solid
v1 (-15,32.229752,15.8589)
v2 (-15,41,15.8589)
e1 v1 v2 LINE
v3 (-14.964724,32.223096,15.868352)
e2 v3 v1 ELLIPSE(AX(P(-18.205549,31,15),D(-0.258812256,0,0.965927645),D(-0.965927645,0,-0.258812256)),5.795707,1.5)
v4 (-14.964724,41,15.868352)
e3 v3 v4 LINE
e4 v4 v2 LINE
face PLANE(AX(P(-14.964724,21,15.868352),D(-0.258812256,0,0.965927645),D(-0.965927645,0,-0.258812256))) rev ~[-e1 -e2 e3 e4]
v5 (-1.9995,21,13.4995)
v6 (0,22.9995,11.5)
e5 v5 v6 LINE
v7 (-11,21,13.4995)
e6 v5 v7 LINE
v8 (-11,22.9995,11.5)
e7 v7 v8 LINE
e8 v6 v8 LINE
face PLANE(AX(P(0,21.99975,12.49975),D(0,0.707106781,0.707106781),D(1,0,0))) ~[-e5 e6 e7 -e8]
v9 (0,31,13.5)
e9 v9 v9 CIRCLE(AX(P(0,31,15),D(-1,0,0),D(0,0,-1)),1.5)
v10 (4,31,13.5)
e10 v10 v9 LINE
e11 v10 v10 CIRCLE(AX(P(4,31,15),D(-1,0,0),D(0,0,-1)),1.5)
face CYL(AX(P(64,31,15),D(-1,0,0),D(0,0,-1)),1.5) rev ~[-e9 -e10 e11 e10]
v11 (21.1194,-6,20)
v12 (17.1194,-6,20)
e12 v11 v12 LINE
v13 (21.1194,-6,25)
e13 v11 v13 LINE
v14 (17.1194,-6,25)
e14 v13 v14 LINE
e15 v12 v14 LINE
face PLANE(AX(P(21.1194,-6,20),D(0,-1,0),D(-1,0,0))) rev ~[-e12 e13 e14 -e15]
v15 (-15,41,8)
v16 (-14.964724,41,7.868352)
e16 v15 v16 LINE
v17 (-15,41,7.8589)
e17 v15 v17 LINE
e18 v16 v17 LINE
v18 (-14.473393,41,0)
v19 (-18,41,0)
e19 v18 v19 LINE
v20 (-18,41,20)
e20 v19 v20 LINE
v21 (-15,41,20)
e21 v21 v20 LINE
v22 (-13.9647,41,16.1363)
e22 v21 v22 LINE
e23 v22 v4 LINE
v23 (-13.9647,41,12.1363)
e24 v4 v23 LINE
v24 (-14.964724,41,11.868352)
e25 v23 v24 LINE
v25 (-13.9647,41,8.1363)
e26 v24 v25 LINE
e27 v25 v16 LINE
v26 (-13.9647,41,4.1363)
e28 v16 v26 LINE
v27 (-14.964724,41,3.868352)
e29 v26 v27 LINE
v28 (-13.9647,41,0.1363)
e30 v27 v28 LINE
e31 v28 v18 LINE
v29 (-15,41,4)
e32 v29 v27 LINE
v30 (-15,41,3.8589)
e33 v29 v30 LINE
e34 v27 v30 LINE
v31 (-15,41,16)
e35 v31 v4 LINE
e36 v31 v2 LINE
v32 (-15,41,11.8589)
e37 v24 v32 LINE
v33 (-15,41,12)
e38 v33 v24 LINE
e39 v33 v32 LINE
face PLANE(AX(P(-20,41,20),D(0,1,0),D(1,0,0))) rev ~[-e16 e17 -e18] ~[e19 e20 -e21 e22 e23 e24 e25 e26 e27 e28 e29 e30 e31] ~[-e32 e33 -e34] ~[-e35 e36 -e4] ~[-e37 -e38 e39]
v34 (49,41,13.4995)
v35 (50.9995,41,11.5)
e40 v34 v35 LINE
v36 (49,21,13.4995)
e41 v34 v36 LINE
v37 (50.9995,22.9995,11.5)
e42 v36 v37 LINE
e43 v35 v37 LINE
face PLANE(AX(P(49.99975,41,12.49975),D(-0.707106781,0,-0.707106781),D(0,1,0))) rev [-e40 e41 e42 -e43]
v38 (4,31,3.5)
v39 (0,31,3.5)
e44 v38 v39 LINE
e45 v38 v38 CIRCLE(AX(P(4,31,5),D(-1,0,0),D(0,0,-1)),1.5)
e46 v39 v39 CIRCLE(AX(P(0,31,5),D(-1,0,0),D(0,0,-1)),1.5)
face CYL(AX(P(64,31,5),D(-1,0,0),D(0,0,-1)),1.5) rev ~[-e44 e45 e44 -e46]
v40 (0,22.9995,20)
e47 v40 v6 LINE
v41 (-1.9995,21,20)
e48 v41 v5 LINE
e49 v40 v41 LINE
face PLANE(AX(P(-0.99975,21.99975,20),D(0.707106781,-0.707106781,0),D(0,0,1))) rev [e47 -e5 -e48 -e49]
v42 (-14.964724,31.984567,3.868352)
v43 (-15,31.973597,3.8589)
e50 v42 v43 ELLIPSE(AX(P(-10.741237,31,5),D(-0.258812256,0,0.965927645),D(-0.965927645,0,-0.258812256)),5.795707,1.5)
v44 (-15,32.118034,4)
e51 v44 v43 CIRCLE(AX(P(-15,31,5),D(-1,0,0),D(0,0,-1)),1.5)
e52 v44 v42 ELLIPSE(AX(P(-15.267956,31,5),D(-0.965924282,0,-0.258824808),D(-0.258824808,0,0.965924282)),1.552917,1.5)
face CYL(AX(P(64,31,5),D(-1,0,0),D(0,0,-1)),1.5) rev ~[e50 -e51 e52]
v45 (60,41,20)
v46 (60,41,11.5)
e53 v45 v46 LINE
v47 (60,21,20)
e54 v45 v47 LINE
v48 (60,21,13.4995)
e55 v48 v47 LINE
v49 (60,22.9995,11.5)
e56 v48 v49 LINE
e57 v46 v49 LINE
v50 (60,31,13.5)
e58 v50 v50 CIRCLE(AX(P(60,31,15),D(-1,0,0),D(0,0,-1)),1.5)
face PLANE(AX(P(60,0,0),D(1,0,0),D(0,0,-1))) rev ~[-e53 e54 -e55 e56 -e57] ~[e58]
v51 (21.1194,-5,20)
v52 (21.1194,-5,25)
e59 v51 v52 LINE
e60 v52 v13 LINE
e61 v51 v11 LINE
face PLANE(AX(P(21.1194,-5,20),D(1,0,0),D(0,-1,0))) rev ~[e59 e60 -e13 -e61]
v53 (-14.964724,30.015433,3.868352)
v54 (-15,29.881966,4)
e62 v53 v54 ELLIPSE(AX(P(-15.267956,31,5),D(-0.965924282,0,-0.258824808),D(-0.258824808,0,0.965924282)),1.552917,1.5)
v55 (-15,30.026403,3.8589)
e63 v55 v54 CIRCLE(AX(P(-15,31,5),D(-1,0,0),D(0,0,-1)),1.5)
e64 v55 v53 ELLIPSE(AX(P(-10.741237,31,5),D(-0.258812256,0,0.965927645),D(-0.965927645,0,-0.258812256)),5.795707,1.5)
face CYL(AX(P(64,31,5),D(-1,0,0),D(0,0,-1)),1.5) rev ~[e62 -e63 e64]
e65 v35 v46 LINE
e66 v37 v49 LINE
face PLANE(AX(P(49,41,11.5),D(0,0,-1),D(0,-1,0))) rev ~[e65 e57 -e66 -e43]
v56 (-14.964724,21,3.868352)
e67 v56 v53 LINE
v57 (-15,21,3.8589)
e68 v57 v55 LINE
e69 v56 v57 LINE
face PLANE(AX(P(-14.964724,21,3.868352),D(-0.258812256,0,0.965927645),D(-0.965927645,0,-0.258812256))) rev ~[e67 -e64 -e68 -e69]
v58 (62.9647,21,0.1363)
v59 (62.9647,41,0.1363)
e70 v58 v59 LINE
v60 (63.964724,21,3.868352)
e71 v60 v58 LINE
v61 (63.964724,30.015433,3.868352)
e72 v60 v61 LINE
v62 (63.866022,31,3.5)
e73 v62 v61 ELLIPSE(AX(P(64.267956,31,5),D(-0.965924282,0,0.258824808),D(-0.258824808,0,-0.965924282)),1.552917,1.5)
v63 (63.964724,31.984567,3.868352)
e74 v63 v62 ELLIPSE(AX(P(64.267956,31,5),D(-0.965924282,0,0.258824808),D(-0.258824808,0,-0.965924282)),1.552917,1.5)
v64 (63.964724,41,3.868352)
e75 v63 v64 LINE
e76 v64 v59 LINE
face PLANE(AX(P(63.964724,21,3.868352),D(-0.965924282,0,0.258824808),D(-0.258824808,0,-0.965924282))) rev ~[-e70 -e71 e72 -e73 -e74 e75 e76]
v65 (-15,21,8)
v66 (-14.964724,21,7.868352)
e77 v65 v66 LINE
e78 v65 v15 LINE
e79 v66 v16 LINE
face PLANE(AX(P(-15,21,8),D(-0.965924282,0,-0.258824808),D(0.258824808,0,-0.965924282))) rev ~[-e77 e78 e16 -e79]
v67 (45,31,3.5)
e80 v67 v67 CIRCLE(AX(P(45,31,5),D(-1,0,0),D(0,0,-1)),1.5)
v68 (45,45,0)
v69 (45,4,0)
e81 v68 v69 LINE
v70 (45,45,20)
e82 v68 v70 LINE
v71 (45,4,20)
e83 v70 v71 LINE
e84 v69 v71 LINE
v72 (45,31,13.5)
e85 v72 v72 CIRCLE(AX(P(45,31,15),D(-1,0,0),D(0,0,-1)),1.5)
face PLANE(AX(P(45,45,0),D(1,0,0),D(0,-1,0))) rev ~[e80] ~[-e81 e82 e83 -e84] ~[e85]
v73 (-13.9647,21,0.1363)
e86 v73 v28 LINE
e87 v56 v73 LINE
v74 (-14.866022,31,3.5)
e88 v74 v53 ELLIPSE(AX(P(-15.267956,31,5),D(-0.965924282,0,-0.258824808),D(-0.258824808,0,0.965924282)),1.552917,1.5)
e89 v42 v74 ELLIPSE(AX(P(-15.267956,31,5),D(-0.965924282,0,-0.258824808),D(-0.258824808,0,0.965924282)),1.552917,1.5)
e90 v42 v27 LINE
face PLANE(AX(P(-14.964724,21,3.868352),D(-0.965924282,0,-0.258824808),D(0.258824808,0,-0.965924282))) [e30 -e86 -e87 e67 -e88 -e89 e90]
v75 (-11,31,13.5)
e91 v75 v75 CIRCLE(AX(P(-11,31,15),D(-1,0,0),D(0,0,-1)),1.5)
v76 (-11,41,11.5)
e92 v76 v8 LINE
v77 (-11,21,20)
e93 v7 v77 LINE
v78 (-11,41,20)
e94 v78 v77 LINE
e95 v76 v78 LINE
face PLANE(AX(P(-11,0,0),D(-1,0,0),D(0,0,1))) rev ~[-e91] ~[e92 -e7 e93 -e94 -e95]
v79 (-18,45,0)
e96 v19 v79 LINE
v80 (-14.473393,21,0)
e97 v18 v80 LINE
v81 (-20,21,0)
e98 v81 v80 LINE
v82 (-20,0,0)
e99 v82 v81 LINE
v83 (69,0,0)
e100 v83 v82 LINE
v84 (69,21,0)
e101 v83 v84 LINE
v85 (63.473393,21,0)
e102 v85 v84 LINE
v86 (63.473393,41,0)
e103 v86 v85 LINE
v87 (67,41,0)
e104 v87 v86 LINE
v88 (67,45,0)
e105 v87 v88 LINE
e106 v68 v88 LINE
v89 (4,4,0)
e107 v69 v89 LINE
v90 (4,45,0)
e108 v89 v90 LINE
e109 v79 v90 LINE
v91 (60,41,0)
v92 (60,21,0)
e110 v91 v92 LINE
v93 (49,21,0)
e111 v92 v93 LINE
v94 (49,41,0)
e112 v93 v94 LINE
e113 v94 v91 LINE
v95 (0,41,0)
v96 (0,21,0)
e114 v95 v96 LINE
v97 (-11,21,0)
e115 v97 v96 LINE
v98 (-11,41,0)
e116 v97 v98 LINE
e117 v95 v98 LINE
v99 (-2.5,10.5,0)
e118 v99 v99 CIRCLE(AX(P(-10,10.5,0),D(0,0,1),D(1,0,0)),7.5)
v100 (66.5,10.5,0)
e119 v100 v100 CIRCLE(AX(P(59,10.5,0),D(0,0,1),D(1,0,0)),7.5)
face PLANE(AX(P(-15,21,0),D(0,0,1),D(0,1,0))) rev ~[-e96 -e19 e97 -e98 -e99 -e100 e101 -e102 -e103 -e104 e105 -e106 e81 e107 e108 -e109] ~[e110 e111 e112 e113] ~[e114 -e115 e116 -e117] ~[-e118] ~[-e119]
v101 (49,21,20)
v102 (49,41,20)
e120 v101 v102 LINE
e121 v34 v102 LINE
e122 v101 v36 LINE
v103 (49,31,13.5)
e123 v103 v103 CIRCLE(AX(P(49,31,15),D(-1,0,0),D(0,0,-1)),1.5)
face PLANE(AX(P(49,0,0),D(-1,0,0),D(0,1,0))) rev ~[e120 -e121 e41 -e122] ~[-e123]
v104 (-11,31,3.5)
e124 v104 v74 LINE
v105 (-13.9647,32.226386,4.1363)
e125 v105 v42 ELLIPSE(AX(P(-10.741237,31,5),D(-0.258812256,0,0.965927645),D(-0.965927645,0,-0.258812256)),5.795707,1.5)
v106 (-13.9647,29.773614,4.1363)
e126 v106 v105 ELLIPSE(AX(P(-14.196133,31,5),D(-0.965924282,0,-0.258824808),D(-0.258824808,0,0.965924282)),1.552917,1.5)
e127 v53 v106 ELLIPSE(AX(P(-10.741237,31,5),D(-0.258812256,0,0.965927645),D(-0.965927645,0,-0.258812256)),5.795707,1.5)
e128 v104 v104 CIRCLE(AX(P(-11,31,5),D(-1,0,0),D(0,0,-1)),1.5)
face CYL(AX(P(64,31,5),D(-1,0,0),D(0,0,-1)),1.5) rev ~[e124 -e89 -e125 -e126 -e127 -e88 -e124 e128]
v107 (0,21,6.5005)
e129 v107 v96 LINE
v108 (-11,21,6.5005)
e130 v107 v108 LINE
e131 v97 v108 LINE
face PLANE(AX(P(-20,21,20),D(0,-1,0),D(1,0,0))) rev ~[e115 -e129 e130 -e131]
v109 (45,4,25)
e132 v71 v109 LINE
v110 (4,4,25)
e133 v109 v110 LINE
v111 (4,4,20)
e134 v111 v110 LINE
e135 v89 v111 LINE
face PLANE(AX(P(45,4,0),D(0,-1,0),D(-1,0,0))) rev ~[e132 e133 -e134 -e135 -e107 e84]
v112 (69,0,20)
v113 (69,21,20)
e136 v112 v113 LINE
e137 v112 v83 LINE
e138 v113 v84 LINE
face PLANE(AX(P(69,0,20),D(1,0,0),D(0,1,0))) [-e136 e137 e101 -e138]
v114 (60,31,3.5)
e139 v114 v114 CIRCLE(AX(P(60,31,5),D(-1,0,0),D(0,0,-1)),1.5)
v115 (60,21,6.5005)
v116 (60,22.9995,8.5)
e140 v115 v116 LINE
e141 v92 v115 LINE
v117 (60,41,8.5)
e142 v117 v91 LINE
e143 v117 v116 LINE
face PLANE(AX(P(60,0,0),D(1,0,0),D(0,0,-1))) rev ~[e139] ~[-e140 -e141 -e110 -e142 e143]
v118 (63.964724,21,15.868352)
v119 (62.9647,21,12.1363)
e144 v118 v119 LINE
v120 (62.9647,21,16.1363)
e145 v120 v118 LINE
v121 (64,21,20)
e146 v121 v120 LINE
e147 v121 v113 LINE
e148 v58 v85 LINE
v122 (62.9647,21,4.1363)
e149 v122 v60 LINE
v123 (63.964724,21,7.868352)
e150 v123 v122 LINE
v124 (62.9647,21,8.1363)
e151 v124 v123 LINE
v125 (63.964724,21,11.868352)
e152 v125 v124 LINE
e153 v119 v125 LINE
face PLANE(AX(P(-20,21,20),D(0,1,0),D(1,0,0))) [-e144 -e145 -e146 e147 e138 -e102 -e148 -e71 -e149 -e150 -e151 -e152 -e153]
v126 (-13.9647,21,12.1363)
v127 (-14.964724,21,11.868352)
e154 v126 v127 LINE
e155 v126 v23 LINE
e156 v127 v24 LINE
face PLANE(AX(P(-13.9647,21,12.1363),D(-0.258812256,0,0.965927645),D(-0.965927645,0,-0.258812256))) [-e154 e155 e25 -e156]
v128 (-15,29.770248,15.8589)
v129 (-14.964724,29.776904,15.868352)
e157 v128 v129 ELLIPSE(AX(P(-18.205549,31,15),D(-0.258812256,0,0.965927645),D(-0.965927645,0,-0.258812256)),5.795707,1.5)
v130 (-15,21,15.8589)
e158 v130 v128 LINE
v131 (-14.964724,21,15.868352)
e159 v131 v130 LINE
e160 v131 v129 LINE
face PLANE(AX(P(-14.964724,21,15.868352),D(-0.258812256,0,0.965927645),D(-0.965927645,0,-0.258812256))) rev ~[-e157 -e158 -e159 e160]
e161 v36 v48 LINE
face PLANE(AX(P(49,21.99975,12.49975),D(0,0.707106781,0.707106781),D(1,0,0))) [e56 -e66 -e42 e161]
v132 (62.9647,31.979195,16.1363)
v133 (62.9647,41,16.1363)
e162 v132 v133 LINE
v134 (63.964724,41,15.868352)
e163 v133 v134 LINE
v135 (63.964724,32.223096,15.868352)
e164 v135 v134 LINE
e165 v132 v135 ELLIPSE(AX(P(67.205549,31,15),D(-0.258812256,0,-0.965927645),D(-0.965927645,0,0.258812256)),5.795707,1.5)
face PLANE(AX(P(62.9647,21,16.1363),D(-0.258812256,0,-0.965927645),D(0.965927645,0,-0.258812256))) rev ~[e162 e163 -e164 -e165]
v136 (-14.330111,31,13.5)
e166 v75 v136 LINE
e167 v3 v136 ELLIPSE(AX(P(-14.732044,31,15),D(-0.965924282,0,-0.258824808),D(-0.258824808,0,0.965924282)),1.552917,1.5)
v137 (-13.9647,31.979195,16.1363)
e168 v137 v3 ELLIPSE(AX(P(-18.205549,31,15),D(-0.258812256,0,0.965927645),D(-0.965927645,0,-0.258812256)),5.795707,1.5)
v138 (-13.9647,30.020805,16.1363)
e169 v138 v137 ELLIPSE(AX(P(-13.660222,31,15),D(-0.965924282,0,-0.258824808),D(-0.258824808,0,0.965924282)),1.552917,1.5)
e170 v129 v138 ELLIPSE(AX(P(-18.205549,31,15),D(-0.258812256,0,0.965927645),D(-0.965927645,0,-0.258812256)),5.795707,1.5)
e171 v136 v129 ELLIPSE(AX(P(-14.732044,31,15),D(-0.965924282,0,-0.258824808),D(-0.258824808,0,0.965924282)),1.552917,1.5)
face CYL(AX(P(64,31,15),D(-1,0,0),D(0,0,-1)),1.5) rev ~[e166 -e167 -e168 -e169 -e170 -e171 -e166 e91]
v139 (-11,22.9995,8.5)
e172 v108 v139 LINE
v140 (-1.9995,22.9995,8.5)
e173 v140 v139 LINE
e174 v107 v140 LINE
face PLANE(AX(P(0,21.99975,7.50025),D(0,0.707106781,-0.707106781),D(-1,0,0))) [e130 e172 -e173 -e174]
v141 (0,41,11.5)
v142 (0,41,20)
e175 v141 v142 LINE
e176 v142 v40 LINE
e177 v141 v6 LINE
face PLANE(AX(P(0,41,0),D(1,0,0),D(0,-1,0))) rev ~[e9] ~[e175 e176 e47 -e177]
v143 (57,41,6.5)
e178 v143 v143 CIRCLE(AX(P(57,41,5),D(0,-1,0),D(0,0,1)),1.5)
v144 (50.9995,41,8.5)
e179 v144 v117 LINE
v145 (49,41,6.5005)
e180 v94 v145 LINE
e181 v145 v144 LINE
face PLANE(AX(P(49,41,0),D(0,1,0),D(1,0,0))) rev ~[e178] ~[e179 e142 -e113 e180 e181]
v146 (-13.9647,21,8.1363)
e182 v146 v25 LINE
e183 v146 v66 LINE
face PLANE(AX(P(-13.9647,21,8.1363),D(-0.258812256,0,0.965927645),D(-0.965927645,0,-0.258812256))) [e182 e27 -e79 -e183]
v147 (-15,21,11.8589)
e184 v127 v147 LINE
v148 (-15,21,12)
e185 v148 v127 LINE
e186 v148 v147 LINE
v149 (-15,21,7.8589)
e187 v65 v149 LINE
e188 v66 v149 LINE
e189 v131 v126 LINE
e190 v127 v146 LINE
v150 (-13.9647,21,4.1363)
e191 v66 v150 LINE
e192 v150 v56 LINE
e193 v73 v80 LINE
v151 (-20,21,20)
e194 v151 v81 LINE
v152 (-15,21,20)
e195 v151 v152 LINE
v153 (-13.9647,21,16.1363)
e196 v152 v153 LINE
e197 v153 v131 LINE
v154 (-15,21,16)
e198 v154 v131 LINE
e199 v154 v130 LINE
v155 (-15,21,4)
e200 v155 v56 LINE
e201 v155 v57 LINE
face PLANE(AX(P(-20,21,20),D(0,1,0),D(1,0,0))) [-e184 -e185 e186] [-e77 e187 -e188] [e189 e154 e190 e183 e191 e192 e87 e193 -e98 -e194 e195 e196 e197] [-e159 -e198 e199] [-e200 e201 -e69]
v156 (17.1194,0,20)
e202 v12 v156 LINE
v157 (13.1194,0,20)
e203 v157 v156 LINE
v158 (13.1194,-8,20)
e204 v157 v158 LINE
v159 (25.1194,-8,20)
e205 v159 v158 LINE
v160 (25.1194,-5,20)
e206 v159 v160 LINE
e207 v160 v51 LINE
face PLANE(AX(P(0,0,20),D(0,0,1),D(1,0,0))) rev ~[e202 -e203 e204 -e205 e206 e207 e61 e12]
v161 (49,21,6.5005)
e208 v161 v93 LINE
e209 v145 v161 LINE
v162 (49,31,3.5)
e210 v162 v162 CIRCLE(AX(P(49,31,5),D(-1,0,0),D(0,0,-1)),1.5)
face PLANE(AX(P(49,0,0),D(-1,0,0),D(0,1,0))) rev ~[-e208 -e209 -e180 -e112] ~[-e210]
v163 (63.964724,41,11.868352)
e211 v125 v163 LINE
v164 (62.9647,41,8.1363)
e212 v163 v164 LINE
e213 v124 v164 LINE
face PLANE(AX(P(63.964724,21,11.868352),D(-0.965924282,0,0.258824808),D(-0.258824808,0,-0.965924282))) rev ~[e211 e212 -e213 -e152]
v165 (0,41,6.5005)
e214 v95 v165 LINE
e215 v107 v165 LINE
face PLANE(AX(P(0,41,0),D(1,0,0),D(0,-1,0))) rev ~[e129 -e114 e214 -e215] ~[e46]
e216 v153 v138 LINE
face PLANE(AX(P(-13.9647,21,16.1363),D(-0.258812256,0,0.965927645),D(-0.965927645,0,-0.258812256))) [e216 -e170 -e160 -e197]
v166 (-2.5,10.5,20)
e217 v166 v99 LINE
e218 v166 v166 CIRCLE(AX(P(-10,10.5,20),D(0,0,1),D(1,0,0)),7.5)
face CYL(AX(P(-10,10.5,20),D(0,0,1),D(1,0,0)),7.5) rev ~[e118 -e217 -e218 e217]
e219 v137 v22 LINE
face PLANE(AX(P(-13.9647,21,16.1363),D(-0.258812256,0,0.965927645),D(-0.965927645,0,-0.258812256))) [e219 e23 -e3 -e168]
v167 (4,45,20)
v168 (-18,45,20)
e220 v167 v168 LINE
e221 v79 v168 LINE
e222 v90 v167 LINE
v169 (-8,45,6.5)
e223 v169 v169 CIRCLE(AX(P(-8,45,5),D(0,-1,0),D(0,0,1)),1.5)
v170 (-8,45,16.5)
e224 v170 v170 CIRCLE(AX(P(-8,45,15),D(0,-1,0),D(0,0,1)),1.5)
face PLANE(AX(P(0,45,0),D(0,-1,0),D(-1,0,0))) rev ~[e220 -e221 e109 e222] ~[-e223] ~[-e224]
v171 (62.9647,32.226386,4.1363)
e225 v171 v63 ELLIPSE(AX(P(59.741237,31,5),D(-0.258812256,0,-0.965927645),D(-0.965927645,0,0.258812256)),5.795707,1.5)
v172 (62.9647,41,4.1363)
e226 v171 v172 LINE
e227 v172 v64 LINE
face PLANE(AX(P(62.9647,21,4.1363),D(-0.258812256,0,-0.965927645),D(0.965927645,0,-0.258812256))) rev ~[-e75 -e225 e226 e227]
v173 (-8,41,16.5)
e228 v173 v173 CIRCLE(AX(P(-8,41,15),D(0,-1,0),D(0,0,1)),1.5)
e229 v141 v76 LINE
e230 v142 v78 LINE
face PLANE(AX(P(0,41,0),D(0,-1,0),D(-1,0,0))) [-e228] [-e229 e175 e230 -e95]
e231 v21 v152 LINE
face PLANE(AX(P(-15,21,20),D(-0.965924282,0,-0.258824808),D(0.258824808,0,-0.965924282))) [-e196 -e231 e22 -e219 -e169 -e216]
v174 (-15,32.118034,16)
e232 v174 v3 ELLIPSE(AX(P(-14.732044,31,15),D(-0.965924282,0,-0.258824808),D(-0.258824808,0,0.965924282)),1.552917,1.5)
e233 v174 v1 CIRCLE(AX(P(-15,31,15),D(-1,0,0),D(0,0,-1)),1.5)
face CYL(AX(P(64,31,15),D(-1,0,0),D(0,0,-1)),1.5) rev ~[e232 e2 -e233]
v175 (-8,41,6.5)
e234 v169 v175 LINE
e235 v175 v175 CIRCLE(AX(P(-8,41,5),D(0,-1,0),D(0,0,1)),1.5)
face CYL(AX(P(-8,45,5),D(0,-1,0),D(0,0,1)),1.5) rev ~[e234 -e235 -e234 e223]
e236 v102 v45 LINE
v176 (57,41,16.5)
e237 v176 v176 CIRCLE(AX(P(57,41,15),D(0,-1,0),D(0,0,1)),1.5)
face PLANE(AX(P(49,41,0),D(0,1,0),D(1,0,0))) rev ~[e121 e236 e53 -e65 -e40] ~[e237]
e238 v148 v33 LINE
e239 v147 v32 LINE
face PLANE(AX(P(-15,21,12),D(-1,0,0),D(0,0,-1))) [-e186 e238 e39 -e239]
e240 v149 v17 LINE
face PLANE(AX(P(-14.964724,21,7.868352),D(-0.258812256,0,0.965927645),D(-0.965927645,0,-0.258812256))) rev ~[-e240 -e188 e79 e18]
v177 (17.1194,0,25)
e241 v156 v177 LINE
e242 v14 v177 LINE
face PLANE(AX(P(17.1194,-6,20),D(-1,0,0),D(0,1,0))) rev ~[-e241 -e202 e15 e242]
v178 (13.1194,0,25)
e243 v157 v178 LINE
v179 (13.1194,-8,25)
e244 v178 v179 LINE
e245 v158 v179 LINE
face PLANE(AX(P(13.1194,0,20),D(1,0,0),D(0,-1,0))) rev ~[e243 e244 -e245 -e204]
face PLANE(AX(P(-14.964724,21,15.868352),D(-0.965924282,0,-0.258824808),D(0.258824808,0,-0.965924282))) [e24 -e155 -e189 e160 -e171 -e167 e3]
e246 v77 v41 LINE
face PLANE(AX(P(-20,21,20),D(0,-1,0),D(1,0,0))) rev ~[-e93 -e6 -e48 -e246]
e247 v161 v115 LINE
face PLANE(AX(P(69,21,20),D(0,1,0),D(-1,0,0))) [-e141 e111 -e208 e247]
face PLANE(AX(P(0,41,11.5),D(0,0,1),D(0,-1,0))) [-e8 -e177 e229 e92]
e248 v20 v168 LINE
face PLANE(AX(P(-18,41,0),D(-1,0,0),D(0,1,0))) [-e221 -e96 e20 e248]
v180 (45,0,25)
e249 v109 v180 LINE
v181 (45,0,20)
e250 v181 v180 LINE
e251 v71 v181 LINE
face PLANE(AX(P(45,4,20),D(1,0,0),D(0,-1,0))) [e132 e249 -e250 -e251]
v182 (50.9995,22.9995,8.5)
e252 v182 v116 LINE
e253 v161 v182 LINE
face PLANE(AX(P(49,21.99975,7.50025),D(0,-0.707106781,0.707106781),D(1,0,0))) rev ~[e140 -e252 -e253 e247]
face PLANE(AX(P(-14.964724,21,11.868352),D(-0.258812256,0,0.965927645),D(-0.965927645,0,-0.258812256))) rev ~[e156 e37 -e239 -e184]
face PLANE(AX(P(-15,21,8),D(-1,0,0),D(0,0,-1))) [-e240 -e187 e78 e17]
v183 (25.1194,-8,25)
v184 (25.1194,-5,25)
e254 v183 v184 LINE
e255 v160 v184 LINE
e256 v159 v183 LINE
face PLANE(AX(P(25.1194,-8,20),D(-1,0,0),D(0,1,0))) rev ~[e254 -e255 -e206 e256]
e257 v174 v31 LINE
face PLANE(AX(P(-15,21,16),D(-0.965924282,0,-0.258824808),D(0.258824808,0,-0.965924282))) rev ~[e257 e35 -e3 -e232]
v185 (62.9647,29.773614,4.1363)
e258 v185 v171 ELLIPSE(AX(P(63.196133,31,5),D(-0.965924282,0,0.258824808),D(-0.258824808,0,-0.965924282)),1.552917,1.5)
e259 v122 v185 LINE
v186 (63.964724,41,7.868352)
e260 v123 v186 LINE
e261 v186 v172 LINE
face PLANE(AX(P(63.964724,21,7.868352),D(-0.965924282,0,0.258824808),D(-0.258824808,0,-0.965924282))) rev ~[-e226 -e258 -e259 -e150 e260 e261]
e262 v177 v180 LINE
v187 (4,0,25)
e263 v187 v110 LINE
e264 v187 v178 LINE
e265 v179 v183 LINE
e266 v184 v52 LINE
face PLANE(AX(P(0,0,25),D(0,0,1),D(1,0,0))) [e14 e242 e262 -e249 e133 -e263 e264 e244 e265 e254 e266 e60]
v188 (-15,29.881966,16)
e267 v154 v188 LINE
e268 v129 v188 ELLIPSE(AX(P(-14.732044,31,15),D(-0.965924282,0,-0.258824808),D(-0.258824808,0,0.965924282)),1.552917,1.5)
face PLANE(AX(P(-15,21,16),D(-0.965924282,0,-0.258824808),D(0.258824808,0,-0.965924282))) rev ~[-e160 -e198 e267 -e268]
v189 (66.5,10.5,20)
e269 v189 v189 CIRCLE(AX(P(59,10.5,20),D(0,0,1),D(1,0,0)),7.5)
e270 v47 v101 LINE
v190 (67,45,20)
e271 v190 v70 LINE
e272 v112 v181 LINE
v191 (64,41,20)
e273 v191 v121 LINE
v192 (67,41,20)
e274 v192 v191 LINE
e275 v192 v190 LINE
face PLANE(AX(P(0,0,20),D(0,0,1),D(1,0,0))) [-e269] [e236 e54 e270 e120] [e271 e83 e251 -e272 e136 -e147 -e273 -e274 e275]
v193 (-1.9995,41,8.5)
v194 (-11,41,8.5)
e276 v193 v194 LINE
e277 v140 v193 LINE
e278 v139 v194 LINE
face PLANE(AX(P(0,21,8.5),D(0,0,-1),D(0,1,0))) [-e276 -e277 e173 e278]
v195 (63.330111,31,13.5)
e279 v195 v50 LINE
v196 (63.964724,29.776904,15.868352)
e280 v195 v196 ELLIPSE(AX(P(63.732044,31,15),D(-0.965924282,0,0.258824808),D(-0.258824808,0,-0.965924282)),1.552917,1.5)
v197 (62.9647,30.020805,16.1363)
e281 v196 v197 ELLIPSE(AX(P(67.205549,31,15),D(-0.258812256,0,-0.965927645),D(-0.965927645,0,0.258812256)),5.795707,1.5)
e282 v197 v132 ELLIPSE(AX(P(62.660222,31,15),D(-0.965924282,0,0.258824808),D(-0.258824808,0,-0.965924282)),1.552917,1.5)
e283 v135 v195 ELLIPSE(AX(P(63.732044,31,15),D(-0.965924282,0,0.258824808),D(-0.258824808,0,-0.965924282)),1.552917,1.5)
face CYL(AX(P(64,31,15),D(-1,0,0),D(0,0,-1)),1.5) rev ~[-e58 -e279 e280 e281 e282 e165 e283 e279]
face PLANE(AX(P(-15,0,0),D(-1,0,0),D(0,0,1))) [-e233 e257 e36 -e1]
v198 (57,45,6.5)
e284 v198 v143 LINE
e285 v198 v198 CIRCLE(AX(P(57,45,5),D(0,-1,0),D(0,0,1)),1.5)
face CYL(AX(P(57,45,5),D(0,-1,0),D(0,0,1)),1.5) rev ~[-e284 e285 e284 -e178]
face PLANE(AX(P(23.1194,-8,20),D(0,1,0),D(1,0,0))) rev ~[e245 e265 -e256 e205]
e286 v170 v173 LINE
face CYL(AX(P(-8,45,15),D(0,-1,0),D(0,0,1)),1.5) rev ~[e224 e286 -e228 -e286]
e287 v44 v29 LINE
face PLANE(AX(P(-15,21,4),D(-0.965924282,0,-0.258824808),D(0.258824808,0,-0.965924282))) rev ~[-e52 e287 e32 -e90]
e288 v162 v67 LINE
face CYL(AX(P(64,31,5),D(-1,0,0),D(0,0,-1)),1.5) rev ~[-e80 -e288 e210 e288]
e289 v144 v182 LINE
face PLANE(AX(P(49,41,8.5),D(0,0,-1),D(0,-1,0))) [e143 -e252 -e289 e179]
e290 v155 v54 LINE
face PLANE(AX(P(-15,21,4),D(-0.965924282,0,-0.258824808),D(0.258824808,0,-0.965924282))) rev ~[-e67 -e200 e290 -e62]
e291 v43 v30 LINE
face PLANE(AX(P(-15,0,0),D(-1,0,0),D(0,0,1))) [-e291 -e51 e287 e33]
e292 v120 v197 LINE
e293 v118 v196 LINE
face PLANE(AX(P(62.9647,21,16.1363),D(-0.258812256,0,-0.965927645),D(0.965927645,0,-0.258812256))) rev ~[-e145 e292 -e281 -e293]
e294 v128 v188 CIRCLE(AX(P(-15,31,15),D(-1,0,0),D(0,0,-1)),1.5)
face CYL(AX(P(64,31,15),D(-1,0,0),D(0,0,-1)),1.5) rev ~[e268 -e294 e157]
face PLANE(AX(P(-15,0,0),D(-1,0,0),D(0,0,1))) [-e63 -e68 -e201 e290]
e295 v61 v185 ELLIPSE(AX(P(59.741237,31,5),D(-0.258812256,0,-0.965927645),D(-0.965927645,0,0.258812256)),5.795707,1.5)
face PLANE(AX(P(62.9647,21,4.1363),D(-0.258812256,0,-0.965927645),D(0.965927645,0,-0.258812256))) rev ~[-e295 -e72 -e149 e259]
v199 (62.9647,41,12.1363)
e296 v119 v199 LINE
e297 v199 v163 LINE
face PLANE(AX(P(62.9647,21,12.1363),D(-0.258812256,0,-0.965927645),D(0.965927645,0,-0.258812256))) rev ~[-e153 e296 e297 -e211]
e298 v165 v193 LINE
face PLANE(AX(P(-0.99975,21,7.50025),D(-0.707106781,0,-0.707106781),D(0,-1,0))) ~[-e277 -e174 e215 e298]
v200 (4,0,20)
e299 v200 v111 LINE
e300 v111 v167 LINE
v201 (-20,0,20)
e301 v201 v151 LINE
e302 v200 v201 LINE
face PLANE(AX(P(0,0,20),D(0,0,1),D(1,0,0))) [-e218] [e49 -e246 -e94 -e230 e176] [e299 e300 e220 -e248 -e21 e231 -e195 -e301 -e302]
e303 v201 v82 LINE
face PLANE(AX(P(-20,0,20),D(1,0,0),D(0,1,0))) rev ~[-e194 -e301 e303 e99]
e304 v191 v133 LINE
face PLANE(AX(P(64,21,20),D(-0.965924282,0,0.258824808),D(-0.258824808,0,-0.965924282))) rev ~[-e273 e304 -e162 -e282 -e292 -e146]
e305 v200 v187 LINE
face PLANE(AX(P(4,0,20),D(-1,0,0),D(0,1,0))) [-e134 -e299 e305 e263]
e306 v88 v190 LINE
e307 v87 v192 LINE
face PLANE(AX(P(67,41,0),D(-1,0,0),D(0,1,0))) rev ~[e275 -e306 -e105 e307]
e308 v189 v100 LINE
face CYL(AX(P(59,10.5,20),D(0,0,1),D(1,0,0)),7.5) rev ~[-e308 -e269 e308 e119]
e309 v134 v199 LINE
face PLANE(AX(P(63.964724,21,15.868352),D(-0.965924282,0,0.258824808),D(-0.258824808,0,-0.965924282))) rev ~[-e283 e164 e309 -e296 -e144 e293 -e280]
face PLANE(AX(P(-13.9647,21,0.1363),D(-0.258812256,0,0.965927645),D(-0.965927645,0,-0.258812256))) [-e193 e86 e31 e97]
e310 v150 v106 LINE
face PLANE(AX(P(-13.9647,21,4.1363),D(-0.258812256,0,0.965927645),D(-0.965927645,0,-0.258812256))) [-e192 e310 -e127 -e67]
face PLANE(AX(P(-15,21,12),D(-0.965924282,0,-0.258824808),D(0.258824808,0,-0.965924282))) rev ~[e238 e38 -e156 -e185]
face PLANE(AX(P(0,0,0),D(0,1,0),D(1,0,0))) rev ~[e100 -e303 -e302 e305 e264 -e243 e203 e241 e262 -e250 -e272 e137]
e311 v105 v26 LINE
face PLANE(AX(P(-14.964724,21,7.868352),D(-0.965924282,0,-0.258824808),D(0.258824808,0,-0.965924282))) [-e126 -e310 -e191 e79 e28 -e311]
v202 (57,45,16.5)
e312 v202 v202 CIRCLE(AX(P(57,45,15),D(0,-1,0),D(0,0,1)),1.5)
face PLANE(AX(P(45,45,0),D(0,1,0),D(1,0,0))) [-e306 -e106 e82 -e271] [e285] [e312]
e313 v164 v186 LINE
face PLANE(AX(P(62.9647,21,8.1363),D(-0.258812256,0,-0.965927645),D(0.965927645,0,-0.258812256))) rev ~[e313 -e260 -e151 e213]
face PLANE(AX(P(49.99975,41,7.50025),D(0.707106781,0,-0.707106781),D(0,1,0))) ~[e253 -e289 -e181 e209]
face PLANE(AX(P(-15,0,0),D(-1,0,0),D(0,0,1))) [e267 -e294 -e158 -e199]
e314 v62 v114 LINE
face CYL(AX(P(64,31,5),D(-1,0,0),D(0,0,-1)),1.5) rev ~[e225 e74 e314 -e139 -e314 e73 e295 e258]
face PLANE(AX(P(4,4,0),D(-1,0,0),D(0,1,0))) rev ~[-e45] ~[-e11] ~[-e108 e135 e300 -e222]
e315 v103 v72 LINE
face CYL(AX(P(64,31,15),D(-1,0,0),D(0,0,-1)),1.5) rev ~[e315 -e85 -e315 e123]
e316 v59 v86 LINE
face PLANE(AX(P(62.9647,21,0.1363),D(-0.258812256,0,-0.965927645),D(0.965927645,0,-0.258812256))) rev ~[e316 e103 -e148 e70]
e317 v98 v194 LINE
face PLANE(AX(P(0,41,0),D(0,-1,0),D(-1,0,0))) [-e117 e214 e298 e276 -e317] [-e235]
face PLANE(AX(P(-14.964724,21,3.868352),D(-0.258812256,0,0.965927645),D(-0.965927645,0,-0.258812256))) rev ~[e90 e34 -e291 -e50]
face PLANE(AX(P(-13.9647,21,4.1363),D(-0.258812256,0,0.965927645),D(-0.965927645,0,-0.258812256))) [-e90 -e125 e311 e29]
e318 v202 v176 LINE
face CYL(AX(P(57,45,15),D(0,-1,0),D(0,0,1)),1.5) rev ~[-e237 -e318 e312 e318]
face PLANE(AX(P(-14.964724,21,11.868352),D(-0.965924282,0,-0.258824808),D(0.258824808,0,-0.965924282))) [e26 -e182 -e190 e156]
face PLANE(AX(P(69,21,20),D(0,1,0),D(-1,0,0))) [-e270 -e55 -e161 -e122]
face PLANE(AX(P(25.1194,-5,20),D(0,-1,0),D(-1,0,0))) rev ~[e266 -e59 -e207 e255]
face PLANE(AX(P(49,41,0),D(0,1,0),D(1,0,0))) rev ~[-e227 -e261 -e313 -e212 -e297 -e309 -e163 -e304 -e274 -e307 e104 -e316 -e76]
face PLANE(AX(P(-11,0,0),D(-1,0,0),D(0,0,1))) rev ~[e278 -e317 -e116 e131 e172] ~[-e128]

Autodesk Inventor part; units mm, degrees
ref_plane "YZ Plane" through (0, 0, 0) normal (1, 0, 0) x (0, 1, 0)
ref_plane "XZ Plane" through (0, 0, 0) normal (0, 1, 0) x (-1, 0, 0)
ref_plane "XY Plane" through (0, 0, 0) normal (0, 0, 1) x (1, 0, 0)
sketch "Esboço1" plane through (0, 0, 0) normal (0, 0, 1) x (1, 0, 0)
  line L0 (0, 0) -> (49, 0)
  line L1 (49, 0) -> (49, 41)
  line L2 (0, 41) -> (0, 0)
  line L3 (45, 45) -> (45, 4)
  line L4 (45, 4) -> (4, 4)
  line L5 (4, 4) -> (4, 45)
  line L6 (0, 45) -> (4, 45)
  line L7 (45, 45) -> (49, 45)
  line L8 (45, 45) -> (67, 45)
  line L9 (4, 45) -> (-18, 45)
  line L10 (-18, 45) -> (0, 45)
  line L11 (0, 41) -> (-18, 41)
  line L12 (-18, 41) -> (-18, 45)
  line L13 (67, 45) -> (49, 45)
  line L14 (49, 41) -> (67, 41)
  line L15 (67, 41) -> (67, 45)
extrude "Extrusão1" add sketch "Esboço1" along normal blind 20
sketch "Esboço2" plane through (0, 0, 20) normal (0, 0, 1) x (1, 0, 0)
  line L0 (45, 4) -> (4, 4) projected
  line L1 (0, 0) -> (49, 0) projected
  line L2 (4, 4) -> (45, 4)
  line L3 (45, 4) -> (45, 0)
  line L4 (4, 0) -> (4, 4)
  line L5 (0, 0) -> (49, 0) projected
  line L6 (13.1194, 0) -> (13.1194, -8)
  line L7 (13.1194, -8) -> (23.1194, -8)
  line L8 (23.1194, -8) -> (25.1194, -8)
  line L9 (25.1194, -8) -> (25.1194, -5)
  line L10 (25.1194, -5) -> (21.1194, -5)
  line L11 (21.1194, -5) -> (21.1194, -6)
  line L12 (21.1194, -6) -> (17.1194, -6)
  line L13 (17.1194, -6) -> (17.1194, 0)
  line L14 (45, 0) -> (17.1194, 0)
  line L15 (13.1194, 0) -> (4, 0)
  dimension "d9" = 41
  dimension "d12" = 8
  dimension "d13" = 10
  dimension "d14" = 2
  dimension "d15" = 3
  dimension "d16" = 4
  dimension "d17" = 1
  dimension "d18" = 4
extrude "Extrusão2" add sketch "Esboço2" along normal blind 5
sketch "Esboço3" plane through (49, 0, 0) normal (1, 0, 0) x (0, 0, -1)
  line L0 (0, 41) -> (-20, 41) projected
  line L1 (-8.5, 41) -> (-8.5, 21)
  line L2 (-11.5, 41) -> (-11.5, 21)
  line L3 (-11.5, 21) -> (-8.5, 21)
  point P0 (0, 0)
extrude "Extrusão3" add sketch "Esboço3" along normal blind 15
sketch "Esboço5" plane through (0, 0, 0) normal (-1, 0, 0) x (0, 0, 1)
  line L0 (11.5, 41) -> (11.5, 21) projected
  line L1 (11.5, 41) -> (11.5, 21)
  line L2 (8.5, 21) -> (8.5, 41) projected
  line L3 (11.5, 21) -> (8.5, 21)
  line L4 (8.5, 21) -> (8.5, 41)
  line L5 (8.5, 41) -> (11.5, 41)
  line L6 (0, 41) -> (20, 41) projected
  point P0 (0, 0)
extrude "Extrusão4" add sketch "Esboço5" along normal blind 15
sketch "Esboço7" plane through (-18, 45, 0) normal (0, 1, 0) x (1, 0, 0)
  line L0 (22, 0) -> (0, 0) projected
  line L1 (22, -20) -> (0, -20) projected
  line L2 (85, -20) -> (63, -20) projected
  line L3 (85, 0) -> (63, 0) projected
  line L4 (0, 0) -> (0, -20) projected
  line L5 (85, 0) -> (85, -20) projected
  point P0 (18, 0)
  point P1 (10, -15)
  point P2 (10, -5)
  point P3 (75, -5)
  point P4 (75, -15)
  dimension "d44" = 5
  dimension "d45" = 5
  dimension "d46" = 5
  dimension "d47" = 5
  dimension "d49" = 10
  dimension "d50" = 10
  dimension "d51" = 10
  dimension "d52" = 10
hole "Furo1" at (-8, 45, 15) at (-8, 45, 5) at (57, 45, 5) at (57, 45, 15) direction (0, -1, 0) diameter 3 end through all
sketch "Esboço8" plane through (0, 0, 20) normal (0, 0, 1) x (1, 0, 0)
  line L0 (0, 0) -> (4, 0) projected
  line L1 (0, 0) -> (-20, 0)
  line L2 (-20, 0) -> (-20, 21)
  line L3 (-20, 21) -> (0, 21)
  line L4 (0, 21) -> (0, 0)
  line L5 (45, 0) -> (49, 0) projected
  line L6 (49, 0) -> (69, 0)
  line L7 (69, 0) -> (69, 21)
  line L8 (69, 21) -> (49, 21)
  line L9 (49, 21) -> (49, 0)
  circle A0 centre (-10, 10.5) radius 7.5
  circle A1 centre (59, 10.5) radius 7.5
  dimension "d38" = 20
  dimension "d39" = 20
  dimension "d40" = 15
  dimension "d41" = 15
extrude "Extrusão6" add sketch "Esboço8" against normal up to surface (20 mm away)
sketch "Esboço10" plane through (64, 0, 0) normal (1, 0, 0) x (0, 0, -1)
  line L0 (0, 21) -> (-8.5, 21) projected
  line L1 (-20, 45) -> (-20, 4) projected
  line L2 (0, 21) -> (-20, 21)
  line L3 (-20, 21) -> (-20, 41.1382)
  line L4 (-20, 41.1382) -> (0, 41.1382)
  line L5 (0, 41.1382) -> (0, 21)
  point P0 (0, 0)
  point P1 (-6.5, 21)
  point P2 (-6.5, 21)
extrude "Extrusão7" add sketch "Esboço10" against normal blind 4
sketch "Esboço12" plane through (-15, 0, 0) normal (-1, 0, 0) x (0, 0, 1)
  line L0 (0, 21) -> (20, 21) projected
  line L1 (0, 41) -> (8.5, 41) projected
  line L2 (20, 21) -> (0, 21)
  line L3 (0, 21) -> (0, 41)
  line L4 (0, 41) -> (20, 41)
  line L5 (20, 41) -> (20, 21)
  point P0 (0, 0)
  point P1 (13.5, 21)
  point P2 (6.5, 41)
  point P3 (13.5, 21)
  point P4 (6.5, 41)
extrude "Extrusão8" add sketch "Esboço12" against normal blind 4
sketch "Esboço15" plane through (64, 0, 0) normal (1, 0, 0) x (0, 0, -1)
  point P0 (0, 0)
  point P1 (-5, 31)
  point P2 (-15, 31)
hole "Furo2" at (64, 31, 5) at (64, 31, 15) direction (-1, 0, 0) diameter 3 end through all
sketch "Esboço13" plane through (-20, 21, 20) normal (0, 1, 0) x (1, 0, 0)
  line L0 (5, 0) -> (6.0353, 3.8637)
  line L1 (5, 0) -> (9, 0) construction
  line L2 (6.0353, 3.8637) -> (5, 4.1411)
  line L3 (5, 0) -> (5, 20) projected
  line L4 (5, 4) -> (6.0353, 7.8637)
  line L5 (6.0353, 7.8637) -> (5, 8.1411)
  line L6 (5, 8) -> (6.0353, 11.8637)
  line L7 (6.0353, 11.8637) -> (5, 12.1411)
  line L8 (5, 12) -> (6.0353, 15.8637)
  line L9 (6.0353, 15.8637) -> (5, 16.1411)
  line L10 (5, 16) -> (6.0353, 19.8637)
  line L11 (6.0353, 19.8637) -> (5, 20.1411)
  line L12 (5, 20) -> (6.0353, 23.8637)
  line L13 (6.0353, 23.8637) -> (5, 24.1411)
  line L14 (5, 24) -> (6.0353, 27.8637)
  line L15 (6.0353, 27.8637) -> (5, 28.1411)
  line L16 (5, 28) -> (6.0353, 31.8637)
  line L17 (6.0353, 31.8637) -> (5, 32.1411)
  line L18 (5, 32) -> (6.0353, 35.8637)
  line L19 (6.0353, 35.8637) -> (5, 36.1411)
  line L20 (5, 36) -> (6.0353, 39.8637)
  line L21 (6.0353, 39.8637) -> (5, 40.1411)
  line L22 (5, 0) -> (4.0983, 0)
  line L23 (5, 0) -> (0, 0) projected
  line L24 (4.0983, 0) -> (4.5493, 24.0085)
  line L25 (4.5493, 24.0085) -> (5, 24)
  line L26 (33.1194, 0) -> (45.1194, 0) projected
  line L27 (44.5, 0) -> (44.5, 16.8251)
  line L28 (84, 0) -> (82.9647, 3.8637)
  line L29 (84, 0) -> (80, 0) construction
  line L30 (82.9647, 3.8637) -> (84, 4.1411)
  line L31 (84, 4) -> (82.9647, 7.8637)
  line L32 (82.9647, 7.8637) -> (84, 8.1411)
  line L33 (84, 8) -> (82.9647, 11.8637)
  line L34 (82.9647, 11.8637) -> (84, 12.1411)
  line L35 (84, 12) -> (82.9647, 15.8637)
  line L36 (82.9647, 15.8637) -> (84, 16.1411)
  line L37 (84, 16) -> (82.9647, 19.8637)
  line L38 (82.9647, 19.8637) -> (84, 20.1411)
  line L39 (84, 20) -> (82.9647, 23.8637)
  line L40 (82.9647, 23.8637) -> (84, 24.1411)
  line L41 (84, 24) -> (82.9647, 27.8637)
  line L42 (82.9647, 27.8637) -> (84, 28.1411)
  line L43 (84, 28) -> (82.9647, 31.8637)
  line L44 (82.9647, 31.8637) -> (84, 32.1411)
  line L45 (84, 32) -> (82.9647, 35.8637)
  line L46 (82.9647, 35.8637) -> (84, 36.1411)
  line L47 (84, 36) -> (82.9647, 39.8637)
  line L48 (82.9647, 39.8637) -> (84, 40.1411)
  line L49 (84, 0) -> (84.9017, 0)
  line L50 (84, 0) -> (89, 0)
  line L51 (84.9017, 0) -> (84.4507, 24.0085)
  line L52 (84.4507, 24.0085) -> (84, 24)
  point P0 (20, 20)
  point P1 (69, 20)
  point P2 (83.9647, 24.1317)
  point P3 (83.9647, 20.1317)
  point P4 (83.9647, 16.1317)
  point P5 (83.9647, 12.1317)
  point P6 (83.9647, 8.1317)
  point P7 (83.9647, 4.1317)
  point P8 (5.0353, 4.1317)
  point P9 (5, 4)
  point P10 (5.0353, 8.1317)
  point P11 (5.0353, 12.1317)
  point P12 (5.0353, 16.1317)
  point P13 (5.0353, 20.1317)
  point P14 (5.0353, 24.1317)
  dimension "d60" = 4
  dimension "d61" = 75
  dimension "d64" = 4
extrude "Extrusão10" cut sketch "Esboço13" along normal up to surface (20 mm away) contours L3 L4 L2 L0 | L22 L24 L25 L14 L13 L12 L3 | L2 L3 L6 L5 L4 | L5 L3 L8 L7 L6 | L7 L3 L10 L9 L8 | L11 L10 L9 L3 L12 | L28 L30 L31 L32 L33 L34 L35 L36 L37 L38 L39 L40 L41 L52 L51 L49
chamfer "Chanfro3" distance 2 angle 45 8 edges at (49, 31, 8.5) (54.5, 21, 8.5) (49, 31, 11.5) (54.5, 21, 11.5) (-5.5, 21, 11.5) (0, 21, 15.75) (0, 31, 8.5) (-5.5, 21, 8.5)
properties part number "suporte estruzor 1"
